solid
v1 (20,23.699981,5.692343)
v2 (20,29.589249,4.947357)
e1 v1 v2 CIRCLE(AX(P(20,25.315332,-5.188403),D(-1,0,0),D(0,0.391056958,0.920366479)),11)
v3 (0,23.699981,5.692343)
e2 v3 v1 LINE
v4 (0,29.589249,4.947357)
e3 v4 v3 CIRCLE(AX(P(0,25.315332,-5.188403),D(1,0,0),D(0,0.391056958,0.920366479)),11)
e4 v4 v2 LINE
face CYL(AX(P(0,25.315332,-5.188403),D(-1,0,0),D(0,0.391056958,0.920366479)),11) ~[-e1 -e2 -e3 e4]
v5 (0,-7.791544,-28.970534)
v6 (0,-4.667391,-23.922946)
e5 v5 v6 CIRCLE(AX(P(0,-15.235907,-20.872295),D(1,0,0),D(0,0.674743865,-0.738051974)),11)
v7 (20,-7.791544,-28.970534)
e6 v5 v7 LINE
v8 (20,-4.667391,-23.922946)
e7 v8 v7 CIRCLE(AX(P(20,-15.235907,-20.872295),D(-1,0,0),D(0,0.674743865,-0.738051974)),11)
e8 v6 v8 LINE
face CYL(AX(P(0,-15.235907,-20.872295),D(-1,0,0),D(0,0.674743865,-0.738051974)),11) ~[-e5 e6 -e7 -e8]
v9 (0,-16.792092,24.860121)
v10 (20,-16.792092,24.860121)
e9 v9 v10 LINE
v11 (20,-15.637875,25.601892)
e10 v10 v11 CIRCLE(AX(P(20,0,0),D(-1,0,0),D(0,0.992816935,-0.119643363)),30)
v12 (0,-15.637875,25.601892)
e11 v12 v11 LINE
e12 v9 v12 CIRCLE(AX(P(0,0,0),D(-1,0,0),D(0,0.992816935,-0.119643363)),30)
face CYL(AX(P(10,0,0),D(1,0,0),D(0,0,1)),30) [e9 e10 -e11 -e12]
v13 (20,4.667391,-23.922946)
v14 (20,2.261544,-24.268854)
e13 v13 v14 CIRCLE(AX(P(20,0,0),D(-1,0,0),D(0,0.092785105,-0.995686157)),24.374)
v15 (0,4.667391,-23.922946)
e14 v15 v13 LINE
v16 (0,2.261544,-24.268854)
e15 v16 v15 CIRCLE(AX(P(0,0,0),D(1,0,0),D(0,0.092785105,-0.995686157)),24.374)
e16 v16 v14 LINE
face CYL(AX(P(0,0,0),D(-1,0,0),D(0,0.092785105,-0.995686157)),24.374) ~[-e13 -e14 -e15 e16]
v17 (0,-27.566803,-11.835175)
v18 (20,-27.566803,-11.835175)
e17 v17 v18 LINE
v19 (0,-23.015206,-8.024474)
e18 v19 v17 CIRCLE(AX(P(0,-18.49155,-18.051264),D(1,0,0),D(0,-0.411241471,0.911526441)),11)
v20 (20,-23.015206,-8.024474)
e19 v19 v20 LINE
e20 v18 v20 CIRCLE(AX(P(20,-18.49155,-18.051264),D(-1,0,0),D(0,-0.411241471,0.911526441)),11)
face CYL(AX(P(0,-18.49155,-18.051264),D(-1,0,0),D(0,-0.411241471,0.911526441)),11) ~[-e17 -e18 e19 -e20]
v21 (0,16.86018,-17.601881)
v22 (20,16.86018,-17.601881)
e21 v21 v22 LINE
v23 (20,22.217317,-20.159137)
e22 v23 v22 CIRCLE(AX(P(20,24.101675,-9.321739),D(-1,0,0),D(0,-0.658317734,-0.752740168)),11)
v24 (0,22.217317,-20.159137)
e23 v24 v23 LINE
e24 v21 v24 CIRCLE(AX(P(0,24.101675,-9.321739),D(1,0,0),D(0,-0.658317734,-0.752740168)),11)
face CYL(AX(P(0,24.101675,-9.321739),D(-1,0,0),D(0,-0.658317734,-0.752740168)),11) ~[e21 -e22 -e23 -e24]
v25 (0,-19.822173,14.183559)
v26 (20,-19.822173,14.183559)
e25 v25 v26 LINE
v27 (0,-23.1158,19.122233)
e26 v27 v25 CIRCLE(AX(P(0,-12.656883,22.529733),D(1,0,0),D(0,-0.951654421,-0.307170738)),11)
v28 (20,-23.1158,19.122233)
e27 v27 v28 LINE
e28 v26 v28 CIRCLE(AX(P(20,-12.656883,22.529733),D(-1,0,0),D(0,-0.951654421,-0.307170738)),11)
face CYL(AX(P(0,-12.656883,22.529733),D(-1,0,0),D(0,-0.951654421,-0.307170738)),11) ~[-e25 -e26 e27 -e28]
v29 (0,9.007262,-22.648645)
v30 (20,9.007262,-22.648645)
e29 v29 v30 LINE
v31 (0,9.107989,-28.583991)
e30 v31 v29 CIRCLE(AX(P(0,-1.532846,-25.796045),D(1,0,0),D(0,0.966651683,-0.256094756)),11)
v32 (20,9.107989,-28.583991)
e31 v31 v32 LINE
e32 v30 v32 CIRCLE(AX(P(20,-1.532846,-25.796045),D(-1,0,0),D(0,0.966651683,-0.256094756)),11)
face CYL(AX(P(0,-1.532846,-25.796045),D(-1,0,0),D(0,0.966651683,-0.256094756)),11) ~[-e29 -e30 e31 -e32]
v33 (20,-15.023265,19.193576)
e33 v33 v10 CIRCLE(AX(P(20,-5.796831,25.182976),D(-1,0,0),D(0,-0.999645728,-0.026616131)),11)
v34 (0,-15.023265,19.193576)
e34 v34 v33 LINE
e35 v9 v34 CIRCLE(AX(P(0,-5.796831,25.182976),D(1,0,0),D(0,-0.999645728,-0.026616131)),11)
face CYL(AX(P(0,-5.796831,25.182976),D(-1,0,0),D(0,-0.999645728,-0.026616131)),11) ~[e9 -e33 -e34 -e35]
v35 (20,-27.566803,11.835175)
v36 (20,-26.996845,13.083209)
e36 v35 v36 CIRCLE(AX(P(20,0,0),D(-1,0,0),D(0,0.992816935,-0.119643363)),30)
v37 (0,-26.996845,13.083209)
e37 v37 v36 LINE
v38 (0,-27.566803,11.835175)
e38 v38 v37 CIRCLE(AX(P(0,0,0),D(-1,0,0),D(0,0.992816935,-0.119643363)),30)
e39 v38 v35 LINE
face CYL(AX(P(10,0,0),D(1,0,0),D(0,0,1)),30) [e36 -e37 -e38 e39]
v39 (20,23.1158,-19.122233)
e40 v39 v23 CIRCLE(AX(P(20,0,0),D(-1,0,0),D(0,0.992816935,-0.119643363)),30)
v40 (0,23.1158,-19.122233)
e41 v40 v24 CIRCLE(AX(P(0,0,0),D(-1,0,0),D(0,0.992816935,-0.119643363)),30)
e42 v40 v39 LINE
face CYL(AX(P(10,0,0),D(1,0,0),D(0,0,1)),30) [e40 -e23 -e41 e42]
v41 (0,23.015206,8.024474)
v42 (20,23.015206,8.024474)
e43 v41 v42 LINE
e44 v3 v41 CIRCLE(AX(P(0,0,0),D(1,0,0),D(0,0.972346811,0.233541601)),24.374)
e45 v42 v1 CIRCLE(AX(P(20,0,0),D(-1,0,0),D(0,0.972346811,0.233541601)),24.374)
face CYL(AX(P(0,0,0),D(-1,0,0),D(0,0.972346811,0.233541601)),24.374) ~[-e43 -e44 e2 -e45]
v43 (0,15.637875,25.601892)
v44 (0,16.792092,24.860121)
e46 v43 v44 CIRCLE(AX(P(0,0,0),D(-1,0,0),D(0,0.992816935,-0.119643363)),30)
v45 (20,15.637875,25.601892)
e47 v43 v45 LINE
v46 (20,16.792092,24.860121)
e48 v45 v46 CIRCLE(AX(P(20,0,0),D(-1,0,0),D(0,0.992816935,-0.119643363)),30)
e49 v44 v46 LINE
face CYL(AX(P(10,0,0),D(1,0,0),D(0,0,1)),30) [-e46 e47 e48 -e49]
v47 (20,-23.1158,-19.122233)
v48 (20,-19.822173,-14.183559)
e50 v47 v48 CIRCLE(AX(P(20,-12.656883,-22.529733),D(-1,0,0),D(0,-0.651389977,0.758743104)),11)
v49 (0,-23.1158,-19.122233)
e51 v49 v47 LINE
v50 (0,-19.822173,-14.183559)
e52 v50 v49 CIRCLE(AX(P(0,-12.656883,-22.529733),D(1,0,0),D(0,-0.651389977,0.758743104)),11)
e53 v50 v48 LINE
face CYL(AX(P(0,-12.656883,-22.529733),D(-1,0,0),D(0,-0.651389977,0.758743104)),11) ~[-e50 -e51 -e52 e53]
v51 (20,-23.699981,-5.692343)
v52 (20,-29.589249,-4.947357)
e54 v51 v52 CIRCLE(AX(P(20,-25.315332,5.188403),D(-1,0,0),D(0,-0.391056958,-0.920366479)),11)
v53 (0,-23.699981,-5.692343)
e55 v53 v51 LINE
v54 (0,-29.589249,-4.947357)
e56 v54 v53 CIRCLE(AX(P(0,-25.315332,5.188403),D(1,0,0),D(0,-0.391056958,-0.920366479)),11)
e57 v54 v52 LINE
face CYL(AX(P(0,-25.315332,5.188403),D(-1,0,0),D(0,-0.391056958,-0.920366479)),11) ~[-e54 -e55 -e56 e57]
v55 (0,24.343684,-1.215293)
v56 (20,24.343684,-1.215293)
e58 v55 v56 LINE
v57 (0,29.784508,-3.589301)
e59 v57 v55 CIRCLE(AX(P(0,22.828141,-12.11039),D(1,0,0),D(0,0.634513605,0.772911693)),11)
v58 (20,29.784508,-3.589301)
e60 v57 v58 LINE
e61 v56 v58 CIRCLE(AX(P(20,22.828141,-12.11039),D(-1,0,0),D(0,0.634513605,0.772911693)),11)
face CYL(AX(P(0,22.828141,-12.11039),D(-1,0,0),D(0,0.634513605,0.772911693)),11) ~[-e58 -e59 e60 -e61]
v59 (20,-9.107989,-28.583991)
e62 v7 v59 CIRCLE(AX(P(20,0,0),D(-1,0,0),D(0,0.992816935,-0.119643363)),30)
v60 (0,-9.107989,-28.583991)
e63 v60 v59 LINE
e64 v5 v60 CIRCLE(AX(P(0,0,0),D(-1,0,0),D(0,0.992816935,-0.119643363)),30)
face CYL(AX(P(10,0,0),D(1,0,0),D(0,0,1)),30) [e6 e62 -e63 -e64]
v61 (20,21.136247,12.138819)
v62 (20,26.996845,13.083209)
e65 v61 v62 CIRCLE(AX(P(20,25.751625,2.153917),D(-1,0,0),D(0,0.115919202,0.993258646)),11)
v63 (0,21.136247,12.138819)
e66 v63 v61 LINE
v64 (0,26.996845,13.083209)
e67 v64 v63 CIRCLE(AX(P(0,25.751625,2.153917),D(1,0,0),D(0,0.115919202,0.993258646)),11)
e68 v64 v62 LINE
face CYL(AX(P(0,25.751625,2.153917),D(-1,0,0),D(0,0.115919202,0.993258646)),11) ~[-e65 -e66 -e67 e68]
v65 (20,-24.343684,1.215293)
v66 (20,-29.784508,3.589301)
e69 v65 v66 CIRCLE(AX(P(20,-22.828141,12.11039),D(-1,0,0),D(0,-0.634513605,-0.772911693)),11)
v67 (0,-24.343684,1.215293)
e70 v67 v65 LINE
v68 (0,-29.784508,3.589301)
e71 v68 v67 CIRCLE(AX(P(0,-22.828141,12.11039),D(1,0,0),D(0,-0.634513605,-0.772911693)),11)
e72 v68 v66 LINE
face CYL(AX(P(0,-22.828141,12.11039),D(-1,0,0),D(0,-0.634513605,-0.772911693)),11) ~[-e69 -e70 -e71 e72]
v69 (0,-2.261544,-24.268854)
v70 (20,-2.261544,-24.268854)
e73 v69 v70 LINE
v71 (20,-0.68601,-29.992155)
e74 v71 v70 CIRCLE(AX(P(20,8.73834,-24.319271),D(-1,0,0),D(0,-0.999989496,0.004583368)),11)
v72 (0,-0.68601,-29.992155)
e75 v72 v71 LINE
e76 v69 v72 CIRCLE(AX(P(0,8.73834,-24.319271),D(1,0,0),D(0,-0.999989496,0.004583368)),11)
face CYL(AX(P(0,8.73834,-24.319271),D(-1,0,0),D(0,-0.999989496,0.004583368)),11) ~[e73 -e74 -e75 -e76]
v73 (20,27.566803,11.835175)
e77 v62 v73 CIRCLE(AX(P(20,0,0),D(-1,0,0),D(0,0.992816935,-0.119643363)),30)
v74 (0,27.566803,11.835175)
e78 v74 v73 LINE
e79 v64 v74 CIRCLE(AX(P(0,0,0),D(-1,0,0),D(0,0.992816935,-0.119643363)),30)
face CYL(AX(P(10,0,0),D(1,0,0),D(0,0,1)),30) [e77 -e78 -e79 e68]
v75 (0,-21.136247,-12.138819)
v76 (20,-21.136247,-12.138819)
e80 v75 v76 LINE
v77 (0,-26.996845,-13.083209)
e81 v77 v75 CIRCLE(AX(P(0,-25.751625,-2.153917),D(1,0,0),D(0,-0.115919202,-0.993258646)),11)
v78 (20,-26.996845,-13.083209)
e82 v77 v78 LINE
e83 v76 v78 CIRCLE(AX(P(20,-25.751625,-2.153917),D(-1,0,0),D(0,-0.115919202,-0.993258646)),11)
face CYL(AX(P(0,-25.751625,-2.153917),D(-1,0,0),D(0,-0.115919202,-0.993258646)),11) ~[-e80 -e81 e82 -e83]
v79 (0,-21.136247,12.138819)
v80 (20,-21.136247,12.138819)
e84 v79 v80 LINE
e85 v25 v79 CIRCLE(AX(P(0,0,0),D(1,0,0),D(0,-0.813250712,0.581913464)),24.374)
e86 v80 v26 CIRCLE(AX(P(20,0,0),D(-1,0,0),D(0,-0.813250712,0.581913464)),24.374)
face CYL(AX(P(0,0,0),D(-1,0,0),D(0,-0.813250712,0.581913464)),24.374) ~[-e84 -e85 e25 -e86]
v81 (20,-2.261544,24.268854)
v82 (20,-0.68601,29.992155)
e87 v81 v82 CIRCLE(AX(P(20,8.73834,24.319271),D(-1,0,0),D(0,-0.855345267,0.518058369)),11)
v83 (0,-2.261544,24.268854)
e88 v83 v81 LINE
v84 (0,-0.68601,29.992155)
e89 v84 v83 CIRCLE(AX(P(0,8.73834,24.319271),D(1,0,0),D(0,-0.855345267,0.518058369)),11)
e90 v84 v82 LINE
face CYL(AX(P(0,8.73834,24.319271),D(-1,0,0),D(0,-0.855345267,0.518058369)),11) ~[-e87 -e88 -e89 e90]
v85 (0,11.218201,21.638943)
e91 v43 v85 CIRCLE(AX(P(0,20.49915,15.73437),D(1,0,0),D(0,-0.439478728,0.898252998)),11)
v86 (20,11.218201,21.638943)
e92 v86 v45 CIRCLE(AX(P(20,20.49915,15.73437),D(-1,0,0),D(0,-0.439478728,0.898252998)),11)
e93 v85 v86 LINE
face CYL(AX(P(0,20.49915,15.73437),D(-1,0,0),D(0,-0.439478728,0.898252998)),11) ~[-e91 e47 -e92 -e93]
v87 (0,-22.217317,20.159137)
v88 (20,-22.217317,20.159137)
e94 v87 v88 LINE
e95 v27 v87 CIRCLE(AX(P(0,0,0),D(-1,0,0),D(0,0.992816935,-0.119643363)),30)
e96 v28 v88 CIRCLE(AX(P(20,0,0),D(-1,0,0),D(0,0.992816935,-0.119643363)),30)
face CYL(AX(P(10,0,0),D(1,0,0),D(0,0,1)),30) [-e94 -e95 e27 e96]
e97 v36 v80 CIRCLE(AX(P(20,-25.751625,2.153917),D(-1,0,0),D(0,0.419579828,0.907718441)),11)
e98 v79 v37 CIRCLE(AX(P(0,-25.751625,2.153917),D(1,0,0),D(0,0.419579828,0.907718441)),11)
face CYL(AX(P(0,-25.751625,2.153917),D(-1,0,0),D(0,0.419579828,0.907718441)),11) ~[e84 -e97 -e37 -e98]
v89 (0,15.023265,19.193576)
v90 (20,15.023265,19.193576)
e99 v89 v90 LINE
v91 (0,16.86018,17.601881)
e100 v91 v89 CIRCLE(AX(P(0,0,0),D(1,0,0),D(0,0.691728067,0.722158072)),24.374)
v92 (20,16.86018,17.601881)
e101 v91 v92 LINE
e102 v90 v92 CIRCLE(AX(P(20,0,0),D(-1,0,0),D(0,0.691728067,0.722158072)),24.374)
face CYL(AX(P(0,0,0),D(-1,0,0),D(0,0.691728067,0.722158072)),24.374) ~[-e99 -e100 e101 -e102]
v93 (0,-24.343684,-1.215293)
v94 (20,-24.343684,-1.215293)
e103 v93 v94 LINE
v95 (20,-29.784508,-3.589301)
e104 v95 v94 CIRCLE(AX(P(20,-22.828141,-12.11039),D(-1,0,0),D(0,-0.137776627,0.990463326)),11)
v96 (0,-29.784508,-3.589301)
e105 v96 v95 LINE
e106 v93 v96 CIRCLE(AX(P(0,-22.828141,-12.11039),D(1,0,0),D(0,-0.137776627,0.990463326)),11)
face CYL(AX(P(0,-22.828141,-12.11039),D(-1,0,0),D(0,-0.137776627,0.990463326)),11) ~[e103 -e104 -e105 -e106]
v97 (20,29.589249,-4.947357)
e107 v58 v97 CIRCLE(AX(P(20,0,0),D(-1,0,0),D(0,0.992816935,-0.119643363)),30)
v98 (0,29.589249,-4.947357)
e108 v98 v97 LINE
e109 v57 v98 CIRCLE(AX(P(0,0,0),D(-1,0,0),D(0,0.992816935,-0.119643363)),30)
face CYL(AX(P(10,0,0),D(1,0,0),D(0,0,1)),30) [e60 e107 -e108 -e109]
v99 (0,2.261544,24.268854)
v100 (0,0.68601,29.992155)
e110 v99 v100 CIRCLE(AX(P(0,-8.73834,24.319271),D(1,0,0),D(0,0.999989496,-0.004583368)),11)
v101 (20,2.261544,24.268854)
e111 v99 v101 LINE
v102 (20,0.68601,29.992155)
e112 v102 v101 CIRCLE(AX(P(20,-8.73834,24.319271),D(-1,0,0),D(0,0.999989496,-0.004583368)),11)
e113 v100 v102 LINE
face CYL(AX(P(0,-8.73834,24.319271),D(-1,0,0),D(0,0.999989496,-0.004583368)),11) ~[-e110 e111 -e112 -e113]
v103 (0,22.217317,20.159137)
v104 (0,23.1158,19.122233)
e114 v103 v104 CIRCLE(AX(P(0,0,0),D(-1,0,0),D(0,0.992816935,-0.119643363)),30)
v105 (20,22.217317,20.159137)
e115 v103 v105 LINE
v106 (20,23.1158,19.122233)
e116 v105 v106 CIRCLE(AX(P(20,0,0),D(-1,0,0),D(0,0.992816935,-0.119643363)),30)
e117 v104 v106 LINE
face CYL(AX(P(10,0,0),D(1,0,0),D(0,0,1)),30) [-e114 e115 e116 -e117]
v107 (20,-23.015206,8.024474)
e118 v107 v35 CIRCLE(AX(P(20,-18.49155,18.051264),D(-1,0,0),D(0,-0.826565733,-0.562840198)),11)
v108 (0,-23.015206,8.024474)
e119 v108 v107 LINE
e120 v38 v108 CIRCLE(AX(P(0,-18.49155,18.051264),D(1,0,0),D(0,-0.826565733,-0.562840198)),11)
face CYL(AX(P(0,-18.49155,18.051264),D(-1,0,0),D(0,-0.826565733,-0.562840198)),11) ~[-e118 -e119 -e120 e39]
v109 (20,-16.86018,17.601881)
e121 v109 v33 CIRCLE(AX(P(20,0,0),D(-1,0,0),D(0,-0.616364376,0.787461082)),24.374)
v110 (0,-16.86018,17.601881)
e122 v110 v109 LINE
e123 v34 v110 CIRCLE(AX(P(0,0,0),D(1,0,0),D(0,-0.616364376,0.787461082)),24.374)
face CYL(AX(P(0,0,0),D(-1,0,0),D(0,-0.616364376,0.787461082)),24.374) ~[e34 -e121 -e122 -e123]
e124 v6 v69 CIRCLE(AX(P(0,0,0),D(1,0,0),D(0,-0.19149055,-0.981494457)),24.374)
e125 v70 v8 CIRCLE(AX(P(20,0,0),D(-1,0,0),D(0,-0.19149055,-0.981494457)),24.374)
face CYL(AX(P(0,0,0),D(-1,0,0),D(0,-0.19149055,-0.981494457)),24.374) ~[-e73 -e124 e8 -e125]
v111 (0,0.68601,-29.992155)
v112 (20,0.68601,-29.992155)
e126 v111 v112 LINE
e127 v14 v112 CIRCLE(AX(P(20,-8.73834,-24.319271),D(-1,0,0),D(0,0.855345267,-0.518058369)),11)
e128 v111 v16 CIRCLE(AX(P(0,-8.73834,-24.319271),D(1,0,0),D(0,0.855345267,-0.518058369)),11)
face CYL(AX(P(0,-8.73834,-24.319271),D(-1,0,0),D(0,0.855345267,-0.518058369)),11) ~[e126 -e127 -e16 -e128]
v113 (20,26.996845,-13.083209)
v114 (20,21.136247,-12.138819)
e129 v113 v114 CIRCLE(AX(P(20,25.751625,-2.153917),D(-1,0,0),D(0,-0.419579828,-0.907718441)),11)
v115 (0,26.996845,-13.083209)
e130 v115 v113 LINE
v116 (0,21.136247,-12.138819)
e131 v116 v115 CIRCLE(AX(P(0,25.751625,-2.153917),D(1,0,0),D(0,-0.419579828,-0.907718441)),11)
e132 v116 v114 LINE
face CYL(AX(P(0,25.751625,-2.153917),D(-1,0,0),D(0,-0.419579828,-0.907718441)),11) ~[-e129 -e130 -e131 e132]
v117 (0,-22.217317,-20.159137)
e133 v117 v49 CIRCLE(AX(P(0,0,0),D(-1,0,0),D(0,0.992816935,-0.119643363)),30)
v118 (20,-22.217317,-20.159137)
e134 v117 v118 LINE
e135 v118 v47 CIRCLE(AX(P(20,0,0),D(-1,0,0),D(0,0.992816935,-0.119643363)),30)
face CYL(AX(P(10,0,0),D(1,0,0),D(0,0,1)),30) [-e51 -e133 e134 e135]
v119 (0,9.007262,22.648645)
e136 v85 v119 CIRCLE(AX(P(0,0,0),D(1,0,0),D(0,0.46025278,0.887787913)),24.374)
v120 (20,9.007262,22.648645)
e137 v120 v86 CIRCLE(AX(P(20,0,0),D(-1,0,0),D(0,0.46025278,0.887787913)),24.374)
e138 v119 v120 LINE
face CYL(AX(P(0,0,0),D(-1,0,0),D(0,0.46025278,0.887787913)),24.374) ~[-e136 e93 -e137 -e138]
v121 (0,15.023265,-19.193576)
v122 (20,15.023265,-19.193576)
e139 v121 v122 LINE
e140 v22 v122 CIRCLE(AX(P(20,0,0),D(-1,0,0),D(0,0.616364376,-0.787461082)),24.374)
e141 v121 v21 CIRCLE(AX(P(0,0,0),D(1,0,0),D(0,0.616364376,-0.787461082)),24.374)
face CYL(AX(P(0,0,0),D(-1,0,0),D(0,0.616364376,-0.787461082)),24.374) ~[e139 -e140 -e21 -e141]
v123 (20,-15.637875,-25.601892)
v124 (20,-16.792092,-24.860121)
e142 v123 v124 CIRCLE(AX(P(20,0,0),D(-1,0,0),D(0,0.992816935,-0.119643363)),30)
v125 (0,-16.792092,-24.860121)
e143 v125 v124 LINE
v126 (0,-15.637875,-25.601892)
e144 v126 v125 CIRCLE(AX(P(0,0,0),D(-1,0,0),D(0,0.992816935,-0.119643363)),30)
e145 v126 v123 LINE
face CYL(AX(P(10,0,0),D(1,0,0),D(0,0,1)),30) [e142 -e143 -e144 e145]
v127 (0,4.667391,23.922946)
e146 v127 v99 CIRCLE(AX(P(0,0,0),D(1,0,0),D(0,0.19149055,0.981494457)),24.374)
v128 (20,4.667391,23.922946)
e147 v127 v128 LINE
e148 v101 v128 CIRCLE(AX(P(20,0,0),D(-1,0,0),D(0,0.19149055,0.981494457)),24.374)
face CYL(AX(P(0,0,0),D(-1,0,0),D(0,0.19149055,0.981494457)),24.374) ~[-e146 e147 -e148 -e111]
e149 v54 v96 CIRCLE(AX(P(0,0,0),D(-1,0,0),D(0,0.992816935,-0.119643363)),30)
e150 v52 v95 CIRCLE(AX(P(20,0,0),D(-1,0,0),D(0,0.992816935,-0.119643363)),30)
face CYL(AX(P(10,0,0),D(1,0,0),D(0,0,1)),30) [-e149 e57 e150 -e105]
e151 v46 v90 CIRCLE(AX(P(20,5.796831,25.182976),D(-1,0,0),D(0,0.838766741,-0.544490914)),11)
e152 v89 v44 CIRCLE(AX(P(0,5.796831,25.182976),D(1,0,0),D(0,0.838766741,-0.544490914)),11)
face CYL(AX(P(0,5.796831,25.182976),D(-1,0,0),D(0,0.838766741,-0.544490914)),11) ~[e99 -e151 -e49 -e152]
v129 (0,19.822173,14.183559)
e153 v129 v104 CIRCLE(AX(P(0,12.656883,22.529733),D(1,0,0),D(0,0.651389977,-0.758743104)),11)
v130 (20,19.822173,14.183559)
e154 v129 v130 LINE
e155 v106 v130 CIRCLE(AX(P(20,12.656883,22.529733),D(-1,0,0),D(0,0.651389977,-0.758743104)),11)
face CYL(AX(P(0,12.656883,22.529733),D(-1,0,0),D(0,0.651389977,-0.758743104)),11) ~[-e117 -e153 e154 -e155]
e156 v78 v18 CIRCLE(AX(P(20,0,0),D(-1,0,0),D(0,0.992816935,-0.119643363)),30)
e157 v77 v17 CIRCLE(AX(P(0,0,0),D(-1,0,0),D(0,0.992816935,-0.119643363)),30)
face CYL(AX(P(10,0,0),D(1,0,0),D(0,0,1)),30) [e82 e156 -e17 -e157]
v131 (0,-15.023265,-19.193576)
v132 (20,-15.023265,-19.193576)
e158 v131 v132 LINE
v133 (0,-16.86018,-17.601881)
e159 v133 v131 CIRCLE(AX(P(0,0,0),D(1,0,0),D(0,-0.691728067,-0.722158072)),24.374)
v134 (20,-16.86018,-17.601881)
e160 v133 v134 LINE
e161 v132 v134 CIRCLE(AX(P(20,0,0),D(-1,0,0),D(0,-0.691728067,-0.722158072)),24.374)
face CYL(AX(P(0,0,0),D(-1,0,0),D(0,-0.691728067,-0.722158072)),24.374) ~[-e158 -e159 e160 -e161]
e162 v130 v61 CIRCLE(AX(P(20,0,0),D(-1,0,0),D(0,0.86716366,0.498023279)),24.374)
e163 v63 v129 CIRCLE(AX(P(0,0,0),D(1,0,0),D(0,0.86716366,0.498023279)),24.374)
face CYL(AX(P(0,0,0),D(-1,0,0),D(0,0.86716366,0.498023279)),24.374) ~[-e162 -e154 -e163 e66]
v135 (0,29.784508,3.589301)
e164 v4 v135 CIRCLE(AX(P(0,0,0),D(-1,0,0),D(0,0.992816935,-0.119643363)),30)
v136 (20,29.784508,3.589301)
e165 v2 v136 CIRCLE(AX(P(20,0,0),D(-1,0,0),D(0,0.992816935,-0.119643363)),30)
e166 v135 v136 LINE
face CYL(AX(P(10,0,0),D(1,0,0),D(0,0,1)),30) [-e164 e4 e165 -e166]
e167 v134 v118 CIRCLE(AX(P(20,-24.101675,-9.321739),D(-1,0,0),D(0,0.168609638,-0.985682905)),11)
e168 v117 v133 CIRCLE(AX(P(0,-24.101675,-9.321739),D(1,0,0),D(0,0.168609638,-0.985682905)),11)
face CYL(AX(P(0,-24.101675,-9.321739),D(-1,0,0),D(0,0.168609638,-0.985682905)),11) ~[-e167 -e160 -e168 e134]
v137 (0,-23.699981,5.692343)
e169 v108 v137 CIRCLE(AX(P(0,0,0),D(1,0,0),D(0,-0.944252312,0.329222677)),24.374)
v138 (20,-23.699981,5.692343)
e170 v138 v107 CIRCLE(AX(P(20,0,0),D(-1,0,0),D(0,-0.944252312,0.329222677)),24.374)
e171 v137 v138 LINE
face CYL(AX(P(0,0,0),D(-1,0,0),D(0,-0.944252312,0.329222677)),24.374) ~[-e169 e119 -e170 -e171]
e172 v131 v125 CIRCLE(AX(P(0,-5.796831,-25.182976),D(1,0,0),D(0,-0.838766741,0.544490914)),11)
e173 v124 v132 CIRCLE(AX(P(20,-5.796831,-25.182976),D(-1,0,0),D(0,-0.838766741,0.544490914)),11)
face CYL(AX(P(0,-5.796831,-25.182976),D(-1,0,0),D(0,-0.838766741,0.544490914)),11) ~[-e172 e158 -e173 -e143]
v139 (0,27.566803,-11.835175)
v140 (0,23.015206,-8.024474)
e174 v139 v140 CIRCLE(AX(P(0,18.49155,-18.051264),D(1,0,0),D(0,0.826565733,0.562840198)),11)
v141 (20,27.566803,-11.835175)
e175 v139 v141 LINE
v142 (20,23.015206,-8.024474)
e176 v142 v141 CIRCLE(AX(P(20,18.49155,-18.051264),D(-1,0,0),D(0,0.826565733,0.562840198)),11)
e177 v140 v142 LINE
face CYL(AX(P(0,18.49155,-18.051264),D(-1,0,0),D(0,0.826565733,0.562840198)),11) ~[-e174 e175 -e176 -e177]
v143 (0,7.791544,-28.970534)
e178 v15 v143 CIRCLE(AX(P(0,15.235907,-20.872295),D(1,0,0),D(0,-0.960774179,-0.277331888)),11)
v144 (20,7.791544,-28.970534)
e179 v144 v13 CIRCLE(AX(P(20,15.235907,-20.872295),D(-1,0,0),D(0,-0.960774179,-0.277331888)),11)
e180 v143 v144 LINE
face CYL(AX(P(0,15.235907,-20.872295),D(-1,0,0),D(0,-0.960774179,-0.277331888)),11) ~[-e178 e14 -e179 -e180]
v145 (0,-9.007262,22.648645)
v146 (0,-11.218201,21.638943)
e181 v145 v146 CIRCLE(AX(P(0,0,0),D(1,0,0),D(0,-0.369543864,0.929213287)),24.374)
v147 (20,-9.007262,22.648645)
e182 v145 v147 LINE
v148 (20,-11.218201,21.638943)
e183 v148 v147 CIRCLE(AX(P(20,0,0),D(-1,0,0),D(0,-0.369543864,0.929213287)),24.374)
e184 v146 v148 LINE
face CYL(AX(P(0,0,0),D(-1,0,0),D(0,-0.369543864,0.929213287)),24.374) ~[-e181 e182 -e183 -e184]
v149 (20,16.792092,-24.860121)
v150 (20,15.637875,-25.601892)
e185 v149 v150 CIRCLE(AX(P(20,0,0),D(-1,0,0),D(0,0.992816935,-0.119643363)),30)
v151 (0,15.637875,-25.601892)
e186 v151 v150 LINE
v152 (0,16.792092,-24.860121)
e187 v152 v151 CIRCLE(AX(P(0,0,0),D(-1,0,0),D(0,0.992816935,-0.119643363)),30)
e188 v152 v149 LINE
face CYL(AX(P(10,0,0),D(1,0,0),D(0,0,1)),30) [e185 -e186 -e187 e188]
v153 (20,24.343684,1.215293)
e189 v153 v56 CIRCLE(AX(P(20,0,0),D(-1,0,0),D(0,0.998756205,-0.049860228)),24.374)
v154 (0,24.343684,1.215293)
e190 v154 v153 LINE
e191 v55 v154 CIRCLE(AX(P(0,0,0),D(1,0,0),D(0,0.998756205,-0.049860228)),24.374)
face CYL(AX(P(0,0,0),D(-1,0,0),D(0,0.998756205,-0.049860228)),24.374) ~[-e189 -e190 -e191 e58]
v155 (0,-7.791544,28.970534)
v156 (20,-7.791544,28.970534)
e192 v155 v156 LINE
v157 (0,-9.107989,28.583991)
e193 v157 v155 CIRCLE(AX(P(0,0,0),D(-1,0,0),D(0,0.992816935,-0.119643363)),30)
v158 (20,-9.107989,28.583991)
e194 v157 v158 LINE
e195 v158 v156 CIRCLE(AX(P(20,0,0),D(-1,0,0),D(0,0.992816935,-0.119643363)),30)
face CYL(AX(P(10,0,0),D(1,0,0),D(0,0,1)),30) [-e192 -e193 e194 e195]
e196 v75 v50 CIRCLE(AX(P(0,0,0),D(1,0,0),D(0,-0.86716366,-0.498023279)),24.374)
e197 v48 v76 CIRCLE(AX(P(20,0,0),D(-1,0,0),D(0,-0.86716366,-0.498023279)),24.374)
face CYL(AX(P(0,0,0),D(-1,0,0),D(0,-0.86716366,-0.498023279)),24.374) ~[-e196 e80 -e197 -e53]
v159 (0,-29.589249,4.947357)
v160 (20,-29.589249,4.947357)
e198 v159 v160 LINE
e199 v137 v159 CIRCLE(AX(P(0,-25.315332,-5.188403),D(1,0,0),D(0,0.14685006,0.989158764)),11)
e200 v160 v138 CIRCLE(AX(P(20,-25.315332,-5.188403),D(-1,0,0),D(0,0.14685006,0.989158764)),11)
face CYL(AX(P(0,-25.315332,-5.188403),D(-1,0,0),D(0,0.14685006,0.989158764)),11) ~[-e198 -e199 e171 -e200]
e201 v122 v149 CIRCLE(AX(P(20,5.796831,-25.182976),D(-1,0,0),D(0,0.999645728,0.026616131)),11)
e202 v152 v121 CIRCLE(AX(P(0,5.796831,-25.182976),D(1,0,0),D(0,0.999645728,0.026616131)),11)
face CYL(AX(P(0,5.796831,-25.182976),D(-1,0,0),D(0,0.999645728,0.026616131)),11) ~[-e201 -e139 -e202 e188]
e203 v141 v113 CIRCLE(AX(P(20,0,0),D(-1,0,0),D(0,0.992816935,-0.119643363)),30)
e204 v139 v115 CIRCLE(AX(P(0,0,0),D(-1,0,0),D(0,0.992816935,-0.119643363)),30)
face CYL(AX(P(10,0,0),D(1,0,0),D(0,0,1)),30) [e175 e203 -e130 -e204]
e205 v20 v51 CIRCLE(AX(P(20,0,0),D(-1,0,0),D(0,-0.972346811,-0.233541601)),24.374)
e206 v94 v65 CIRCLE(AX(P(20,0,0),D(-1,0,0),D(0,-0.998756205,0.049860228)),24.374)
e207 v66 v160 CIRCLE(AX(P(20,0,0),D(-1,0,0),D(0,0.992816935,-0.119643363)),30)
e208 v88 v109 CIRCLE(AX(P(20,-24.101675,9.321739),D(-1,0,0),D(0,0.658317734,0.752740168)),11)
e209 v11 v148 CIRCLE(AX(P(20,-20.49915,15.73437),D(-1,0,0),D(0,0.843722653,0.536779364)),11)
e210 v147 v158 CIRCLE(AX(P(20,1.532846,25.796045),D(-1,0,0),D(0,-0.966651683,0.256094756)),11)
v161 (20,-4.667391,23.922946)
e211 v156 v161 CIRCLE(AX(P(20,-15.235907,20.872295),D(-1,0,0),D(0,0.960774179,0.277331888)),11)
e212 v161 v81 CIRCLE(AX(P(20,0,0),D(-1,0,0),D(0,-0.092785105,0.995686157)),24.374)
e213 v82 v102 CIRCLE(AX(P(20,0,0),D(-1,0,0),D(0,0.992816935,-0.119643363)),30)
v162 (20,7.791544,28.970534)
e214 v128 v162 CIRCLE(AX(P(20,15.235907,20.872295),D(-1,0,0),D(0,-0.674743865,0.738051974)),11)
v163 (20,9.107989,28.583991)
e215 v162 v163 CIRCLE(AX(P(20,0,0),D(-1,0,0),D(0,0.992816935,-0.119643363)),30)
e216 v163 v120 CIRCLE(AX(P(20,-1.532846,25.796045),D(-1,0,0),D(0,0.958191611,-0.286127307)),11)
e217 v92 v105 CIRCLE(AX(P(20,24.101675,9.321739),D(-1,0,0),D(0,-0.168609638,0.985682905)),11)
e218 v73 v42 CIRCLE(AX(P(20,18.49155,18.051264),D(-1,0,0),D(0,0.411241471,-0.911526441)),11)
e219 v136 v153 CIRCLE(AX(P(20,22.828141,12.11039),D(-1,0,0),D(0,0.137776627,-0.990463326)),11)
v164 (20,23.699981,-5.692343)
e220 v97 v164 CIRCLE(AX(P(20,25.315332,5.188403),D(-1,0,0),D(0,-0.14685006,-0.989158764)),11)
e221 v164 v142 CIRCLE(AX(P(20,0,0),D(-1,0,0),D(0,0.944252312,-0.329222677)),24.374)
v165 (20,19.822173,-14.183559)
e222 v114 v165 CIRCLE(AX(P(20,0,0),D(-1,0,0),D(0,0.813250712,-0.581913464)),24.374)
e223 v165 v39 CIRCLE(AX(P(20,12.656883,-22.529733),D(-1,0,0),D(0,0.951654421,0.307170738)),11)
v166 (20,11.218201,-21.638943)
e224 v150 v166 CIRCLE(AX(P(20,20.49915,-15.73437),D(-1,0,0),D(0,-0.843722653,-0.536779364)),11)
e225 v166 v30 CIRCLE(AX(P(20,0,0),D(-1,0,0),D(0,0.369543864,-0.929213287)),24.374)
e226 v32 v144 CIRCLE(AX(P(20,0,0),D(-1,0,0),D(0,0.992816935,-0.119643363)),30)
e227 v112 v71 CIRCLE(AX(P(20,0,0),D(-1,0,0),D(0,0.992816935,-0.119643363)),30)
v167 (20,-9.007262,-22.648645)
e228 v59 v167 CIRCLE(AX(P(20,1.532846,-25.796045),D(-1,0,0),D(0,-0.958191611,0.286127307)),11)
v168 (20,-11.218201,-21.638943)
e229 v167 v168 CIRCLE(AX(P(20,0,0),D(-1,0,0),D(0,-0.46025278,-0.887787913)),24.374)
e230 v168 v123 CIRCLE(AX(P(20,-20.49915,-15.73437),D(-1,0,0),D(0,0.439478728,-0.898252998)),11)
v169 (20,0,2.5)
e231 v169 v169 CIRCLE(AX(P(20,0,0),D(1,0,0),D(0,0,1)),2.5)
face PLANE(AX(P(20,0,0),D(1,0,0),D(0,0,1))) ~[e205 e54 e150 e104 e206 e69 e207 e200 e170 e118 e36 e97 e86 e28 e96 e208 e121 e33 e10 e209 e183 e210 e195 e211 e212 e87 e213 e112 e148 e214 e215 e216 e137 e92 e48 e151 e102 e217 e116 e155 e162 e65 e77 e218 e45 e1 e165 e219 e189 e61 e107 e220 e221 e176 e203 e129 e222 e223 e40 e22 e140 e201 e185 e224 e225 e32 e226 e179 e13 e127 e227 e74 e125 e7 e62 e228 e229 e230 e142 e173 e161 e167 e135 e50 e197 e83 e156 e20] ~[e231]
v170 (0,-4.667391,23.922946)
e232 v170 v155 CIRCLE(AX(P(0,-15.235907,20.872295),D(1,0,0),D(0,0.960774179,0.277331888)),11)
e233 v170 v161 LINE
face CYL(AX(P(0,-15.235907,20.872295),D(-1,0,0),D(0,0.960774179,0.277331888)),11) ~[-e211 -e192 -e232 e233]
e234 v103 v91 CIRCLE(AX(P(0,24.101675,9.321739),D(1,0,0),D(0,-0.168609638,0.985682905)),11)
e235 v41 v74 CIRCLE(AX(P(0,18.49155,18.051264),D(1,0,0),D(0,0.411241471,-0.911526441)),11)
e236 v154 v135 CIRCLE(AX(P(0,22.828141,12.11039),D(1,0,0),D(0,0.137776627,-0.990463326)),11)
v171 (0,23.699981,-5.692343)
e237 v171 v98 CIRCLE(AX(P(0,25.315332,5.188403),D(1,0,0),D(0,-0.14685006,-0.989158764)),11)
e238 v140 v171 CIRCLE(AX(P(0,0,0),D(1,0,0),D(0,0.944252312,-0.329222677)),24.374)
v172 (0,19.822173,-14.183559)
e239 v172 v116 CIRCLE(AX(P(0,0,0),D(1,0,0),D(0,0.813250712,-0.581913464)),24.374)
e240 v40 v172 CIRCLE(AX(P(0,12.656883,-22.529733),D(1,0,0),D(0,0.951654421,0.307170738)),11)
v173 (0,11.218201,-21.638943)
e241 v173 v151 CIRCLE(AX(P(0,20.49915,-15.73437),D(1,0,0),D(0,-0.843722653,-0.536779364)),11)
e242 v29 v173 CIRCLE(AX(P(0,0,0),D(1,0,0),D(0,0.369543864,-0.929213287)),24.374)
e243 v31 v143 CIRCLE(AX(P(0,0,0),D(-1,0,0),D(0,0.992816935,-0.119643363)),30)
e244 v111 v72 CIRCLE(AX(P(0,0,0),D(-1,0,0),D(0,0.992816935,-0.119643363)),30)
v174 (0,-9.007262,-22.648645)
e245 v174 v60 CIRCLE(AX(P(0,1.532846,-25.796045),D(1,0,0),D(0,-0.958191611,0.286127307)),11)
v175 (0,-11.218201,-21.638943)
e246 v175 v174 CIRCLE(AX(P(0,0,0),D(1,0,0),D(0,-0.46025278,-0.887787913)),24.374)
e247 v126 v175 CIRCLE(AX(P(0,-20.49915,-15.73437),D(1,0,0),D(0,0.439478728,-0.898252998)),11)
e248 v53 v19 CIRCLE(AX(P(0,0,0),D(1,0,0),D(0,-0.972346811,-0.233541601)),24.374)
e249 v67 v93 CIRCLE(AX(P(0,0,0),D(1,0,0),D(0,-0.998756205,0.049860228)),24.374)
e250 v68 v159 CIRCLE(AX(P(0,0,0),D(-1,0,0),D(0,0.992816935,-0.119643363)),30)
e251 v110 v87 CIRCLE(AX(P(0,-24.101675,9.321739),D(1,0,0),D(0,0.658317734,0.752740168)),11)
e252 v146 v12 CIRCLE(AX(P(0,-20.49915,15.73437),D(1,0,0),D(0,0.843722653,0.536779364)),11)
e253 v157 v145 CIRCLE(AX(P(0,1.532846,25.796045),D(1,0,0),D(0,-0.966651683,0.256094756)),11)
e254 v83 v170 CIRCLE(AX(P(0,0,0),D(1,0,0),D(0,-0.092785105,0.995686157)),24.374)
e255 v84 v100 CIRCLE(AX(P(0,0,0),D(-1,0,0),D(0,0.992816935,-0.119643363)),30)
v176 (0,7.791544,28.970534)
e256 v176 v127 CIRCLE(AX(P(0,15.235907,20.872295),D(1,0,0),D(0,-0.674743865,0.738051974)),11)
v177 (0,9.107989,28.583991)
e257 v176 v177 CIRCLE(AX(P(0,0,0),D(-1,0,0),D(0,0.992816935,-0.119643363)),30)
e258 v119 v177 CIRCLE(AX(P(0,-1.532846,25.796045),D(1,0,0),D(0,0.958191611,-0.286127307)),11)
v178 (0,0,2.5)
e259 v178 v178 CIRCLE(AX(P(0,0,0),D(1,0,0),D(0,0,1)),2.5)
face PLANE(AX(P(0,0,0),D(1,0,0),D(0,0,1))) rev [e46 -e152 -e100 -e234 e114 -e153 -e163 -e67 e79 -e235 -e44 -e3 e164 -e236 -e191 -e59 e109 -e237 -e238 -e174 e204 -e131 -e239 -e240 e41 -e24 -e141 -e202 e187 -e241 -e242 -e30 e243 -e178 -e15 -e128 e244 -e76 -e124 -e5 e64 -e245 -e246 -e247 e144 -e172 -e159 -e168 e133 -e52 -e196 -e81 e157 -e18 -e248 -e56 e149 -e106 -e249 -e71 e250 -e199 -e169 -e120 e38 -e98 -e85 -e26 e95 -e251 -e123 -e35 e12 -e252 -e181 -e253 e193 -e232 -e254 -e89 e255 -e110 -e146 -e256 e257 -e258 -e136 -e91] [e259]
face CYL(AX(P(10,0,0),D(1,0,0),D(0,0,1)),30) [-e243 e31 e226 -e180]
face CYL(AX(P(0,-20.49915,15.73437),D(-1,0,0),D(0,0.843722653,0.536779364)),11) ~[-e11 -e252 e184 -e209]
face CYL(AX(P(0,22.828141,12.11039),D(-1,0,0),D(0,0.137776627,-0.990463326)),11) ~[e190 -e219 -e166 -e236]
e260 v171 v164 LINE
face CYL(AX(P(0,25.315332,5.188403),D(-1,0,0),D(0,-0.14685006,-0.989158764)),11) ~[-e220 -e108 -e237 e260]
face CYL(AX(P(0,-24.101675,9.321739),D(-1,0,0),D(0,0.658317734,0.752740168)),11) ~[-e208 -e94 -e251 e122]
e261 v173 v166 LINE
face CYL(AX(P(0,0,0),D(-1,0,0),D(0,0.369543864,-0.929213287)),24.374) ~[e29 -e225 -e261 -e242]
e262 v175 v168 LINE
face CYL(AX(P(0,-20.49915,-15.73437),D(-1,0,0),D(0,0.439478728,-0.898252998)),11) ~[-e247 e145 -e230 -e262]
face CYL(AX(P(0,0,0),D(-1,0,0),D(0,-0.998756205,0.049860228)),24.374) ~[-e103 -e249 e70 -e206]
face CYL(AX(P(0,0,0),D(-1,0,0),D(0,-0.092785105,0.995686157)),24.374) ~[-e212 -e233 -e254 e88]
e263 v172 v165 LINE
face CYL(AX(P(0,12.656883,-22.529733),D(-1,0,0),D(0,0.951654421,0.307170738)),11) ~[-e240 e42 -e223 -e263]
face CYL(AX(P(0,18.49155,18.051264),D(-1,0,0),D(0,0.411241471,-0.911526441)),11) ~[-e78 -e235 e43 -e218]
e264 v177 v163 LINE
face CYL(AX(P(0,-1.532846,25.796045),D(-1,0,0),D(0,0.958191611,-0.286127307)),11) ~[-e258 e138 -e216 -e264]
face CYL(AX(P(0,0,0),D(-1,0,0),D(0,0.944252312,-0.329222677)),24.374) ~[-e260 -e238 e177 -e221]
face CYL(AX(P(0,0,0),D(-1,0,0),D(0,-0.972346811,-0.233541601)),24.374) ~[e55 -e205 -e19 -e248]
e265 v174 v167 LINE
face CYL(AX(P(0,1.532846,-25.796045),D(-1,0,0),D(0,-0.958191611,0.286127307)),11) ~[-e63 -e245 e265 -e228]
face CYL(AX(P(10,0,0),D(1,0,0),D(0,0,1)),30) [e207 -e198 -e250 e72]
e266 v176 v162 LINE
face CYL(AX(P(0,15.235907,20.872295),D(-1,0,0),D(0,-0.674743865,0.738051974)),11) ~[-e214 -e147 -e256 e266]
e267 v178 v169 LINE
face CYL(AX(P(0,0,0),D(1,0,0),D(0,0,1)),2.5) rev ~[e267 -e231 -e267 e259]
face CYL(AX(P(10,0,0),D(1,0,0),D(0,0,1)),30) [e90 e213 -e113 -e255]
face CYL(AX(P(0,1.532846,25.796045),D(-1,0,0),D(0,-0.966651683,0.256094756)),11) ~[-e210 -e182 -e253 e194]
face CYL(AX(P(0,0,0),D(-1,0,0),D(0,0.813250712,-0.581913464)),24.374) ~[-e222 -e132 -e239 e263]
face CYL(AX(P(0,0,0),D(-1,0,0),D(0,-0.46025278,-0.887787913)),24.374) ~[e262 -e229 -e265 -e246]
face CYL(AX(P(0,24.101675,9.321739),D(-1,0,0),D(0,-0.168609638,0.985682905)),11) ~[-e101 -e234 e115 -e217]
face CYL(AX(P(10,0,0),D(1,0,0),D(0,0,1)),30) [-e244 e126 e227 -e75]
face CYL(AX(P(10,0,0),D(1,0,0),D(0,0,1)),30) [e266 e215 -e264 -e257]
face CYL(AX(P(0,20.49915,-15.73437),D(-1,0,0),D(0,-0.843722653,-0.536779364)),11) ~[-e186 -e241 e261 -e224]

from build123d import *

# Parameters (mm, degrees)
BASPROSKE_W     = 20
BASPROSKE_H     = 30
TOOTHCUT_DEPTH  = 47.904157598
TEETHCUTS_COUNT = 22
TEETHCUTS_ANGLE = 343.636363636
BORSKE_R        = 2.5
BORE_DEPTH      = 50.0000508


with BuildPart() as part:
    # BasProSke → Base-Revolve (revolve)
    with BuildSketch(Plane(origin=(0, 0, 0), x_dir=(1, 0, 0), z_dir=(0, 1, 0)), mode=Mode.PRIVATE) as base_revolve_sk:
        with Locations((10, 15)):
            Rectangle(BASPROSKE_W, BASPROSKE_H)
    revolve(base_revolve_sk.sketch.rotate(Axis((-10, 0, 0), (1, 0, 0)), 180), axis=Axis((-10, 0, 0), (1, 0, 0)))

    # TooCutSke → ToothCut (cut, through all)
    with BuildSketch(Plane(origin=(0, 0, 0), x_dir=(0, 0, -1), z_dir=(1, 0, 0))):
        with BuildLine():
            ThreePointArc((1.215293185, 24.343683749), (0, 24.374), (-1.215293185, 24.343683749))
            ThreePointArc((-1.215293185, 24.343683749), (-2.034367134, 27.241050063), (-3.608361155, 29.807790507))
            ThreePointArc((-3.608361155, 29.807790507), (0, 30.0254), (3.608361155, 29.807790507))
            ThreePointArc((3.608361155, 29.807790507), (2.034367134, 27.241050063), (1.215293185, 24.343683749))
        make_face()
    toothcut = extrude(amount=TOOTHCUT_DEPTH, mode=Mode.SUBTRACT)

    # TeethCuts: ToothCut ×22 about axis
    teethcuts_axis = Axis((-10, 0, 0), (1, 0, 0))
    for i in range(1, TEETHCUTS_COUNT):
        add(toothcut.rotate(teethcuts_axis, i * TEETHCUTS_ANGLE / (TEETHCUTS_COUNT - 1)), mode=Mode.SUBTRACT)

    # BorSke → Bore (cut, symmetric)
    with BuildSketch(Plane(origin=(0, 0, 0), x_dir=(0, 0, -1), z_dir=(1, 0, 0))):
        with Locations(Location((0, 0, 0), (0, 0, 180))):
            Circle(BORSKE_R)
    extrude(amount=BORE_DEPTH, both=True, mode=Mode.SUBTRACT)


solid = part.part
